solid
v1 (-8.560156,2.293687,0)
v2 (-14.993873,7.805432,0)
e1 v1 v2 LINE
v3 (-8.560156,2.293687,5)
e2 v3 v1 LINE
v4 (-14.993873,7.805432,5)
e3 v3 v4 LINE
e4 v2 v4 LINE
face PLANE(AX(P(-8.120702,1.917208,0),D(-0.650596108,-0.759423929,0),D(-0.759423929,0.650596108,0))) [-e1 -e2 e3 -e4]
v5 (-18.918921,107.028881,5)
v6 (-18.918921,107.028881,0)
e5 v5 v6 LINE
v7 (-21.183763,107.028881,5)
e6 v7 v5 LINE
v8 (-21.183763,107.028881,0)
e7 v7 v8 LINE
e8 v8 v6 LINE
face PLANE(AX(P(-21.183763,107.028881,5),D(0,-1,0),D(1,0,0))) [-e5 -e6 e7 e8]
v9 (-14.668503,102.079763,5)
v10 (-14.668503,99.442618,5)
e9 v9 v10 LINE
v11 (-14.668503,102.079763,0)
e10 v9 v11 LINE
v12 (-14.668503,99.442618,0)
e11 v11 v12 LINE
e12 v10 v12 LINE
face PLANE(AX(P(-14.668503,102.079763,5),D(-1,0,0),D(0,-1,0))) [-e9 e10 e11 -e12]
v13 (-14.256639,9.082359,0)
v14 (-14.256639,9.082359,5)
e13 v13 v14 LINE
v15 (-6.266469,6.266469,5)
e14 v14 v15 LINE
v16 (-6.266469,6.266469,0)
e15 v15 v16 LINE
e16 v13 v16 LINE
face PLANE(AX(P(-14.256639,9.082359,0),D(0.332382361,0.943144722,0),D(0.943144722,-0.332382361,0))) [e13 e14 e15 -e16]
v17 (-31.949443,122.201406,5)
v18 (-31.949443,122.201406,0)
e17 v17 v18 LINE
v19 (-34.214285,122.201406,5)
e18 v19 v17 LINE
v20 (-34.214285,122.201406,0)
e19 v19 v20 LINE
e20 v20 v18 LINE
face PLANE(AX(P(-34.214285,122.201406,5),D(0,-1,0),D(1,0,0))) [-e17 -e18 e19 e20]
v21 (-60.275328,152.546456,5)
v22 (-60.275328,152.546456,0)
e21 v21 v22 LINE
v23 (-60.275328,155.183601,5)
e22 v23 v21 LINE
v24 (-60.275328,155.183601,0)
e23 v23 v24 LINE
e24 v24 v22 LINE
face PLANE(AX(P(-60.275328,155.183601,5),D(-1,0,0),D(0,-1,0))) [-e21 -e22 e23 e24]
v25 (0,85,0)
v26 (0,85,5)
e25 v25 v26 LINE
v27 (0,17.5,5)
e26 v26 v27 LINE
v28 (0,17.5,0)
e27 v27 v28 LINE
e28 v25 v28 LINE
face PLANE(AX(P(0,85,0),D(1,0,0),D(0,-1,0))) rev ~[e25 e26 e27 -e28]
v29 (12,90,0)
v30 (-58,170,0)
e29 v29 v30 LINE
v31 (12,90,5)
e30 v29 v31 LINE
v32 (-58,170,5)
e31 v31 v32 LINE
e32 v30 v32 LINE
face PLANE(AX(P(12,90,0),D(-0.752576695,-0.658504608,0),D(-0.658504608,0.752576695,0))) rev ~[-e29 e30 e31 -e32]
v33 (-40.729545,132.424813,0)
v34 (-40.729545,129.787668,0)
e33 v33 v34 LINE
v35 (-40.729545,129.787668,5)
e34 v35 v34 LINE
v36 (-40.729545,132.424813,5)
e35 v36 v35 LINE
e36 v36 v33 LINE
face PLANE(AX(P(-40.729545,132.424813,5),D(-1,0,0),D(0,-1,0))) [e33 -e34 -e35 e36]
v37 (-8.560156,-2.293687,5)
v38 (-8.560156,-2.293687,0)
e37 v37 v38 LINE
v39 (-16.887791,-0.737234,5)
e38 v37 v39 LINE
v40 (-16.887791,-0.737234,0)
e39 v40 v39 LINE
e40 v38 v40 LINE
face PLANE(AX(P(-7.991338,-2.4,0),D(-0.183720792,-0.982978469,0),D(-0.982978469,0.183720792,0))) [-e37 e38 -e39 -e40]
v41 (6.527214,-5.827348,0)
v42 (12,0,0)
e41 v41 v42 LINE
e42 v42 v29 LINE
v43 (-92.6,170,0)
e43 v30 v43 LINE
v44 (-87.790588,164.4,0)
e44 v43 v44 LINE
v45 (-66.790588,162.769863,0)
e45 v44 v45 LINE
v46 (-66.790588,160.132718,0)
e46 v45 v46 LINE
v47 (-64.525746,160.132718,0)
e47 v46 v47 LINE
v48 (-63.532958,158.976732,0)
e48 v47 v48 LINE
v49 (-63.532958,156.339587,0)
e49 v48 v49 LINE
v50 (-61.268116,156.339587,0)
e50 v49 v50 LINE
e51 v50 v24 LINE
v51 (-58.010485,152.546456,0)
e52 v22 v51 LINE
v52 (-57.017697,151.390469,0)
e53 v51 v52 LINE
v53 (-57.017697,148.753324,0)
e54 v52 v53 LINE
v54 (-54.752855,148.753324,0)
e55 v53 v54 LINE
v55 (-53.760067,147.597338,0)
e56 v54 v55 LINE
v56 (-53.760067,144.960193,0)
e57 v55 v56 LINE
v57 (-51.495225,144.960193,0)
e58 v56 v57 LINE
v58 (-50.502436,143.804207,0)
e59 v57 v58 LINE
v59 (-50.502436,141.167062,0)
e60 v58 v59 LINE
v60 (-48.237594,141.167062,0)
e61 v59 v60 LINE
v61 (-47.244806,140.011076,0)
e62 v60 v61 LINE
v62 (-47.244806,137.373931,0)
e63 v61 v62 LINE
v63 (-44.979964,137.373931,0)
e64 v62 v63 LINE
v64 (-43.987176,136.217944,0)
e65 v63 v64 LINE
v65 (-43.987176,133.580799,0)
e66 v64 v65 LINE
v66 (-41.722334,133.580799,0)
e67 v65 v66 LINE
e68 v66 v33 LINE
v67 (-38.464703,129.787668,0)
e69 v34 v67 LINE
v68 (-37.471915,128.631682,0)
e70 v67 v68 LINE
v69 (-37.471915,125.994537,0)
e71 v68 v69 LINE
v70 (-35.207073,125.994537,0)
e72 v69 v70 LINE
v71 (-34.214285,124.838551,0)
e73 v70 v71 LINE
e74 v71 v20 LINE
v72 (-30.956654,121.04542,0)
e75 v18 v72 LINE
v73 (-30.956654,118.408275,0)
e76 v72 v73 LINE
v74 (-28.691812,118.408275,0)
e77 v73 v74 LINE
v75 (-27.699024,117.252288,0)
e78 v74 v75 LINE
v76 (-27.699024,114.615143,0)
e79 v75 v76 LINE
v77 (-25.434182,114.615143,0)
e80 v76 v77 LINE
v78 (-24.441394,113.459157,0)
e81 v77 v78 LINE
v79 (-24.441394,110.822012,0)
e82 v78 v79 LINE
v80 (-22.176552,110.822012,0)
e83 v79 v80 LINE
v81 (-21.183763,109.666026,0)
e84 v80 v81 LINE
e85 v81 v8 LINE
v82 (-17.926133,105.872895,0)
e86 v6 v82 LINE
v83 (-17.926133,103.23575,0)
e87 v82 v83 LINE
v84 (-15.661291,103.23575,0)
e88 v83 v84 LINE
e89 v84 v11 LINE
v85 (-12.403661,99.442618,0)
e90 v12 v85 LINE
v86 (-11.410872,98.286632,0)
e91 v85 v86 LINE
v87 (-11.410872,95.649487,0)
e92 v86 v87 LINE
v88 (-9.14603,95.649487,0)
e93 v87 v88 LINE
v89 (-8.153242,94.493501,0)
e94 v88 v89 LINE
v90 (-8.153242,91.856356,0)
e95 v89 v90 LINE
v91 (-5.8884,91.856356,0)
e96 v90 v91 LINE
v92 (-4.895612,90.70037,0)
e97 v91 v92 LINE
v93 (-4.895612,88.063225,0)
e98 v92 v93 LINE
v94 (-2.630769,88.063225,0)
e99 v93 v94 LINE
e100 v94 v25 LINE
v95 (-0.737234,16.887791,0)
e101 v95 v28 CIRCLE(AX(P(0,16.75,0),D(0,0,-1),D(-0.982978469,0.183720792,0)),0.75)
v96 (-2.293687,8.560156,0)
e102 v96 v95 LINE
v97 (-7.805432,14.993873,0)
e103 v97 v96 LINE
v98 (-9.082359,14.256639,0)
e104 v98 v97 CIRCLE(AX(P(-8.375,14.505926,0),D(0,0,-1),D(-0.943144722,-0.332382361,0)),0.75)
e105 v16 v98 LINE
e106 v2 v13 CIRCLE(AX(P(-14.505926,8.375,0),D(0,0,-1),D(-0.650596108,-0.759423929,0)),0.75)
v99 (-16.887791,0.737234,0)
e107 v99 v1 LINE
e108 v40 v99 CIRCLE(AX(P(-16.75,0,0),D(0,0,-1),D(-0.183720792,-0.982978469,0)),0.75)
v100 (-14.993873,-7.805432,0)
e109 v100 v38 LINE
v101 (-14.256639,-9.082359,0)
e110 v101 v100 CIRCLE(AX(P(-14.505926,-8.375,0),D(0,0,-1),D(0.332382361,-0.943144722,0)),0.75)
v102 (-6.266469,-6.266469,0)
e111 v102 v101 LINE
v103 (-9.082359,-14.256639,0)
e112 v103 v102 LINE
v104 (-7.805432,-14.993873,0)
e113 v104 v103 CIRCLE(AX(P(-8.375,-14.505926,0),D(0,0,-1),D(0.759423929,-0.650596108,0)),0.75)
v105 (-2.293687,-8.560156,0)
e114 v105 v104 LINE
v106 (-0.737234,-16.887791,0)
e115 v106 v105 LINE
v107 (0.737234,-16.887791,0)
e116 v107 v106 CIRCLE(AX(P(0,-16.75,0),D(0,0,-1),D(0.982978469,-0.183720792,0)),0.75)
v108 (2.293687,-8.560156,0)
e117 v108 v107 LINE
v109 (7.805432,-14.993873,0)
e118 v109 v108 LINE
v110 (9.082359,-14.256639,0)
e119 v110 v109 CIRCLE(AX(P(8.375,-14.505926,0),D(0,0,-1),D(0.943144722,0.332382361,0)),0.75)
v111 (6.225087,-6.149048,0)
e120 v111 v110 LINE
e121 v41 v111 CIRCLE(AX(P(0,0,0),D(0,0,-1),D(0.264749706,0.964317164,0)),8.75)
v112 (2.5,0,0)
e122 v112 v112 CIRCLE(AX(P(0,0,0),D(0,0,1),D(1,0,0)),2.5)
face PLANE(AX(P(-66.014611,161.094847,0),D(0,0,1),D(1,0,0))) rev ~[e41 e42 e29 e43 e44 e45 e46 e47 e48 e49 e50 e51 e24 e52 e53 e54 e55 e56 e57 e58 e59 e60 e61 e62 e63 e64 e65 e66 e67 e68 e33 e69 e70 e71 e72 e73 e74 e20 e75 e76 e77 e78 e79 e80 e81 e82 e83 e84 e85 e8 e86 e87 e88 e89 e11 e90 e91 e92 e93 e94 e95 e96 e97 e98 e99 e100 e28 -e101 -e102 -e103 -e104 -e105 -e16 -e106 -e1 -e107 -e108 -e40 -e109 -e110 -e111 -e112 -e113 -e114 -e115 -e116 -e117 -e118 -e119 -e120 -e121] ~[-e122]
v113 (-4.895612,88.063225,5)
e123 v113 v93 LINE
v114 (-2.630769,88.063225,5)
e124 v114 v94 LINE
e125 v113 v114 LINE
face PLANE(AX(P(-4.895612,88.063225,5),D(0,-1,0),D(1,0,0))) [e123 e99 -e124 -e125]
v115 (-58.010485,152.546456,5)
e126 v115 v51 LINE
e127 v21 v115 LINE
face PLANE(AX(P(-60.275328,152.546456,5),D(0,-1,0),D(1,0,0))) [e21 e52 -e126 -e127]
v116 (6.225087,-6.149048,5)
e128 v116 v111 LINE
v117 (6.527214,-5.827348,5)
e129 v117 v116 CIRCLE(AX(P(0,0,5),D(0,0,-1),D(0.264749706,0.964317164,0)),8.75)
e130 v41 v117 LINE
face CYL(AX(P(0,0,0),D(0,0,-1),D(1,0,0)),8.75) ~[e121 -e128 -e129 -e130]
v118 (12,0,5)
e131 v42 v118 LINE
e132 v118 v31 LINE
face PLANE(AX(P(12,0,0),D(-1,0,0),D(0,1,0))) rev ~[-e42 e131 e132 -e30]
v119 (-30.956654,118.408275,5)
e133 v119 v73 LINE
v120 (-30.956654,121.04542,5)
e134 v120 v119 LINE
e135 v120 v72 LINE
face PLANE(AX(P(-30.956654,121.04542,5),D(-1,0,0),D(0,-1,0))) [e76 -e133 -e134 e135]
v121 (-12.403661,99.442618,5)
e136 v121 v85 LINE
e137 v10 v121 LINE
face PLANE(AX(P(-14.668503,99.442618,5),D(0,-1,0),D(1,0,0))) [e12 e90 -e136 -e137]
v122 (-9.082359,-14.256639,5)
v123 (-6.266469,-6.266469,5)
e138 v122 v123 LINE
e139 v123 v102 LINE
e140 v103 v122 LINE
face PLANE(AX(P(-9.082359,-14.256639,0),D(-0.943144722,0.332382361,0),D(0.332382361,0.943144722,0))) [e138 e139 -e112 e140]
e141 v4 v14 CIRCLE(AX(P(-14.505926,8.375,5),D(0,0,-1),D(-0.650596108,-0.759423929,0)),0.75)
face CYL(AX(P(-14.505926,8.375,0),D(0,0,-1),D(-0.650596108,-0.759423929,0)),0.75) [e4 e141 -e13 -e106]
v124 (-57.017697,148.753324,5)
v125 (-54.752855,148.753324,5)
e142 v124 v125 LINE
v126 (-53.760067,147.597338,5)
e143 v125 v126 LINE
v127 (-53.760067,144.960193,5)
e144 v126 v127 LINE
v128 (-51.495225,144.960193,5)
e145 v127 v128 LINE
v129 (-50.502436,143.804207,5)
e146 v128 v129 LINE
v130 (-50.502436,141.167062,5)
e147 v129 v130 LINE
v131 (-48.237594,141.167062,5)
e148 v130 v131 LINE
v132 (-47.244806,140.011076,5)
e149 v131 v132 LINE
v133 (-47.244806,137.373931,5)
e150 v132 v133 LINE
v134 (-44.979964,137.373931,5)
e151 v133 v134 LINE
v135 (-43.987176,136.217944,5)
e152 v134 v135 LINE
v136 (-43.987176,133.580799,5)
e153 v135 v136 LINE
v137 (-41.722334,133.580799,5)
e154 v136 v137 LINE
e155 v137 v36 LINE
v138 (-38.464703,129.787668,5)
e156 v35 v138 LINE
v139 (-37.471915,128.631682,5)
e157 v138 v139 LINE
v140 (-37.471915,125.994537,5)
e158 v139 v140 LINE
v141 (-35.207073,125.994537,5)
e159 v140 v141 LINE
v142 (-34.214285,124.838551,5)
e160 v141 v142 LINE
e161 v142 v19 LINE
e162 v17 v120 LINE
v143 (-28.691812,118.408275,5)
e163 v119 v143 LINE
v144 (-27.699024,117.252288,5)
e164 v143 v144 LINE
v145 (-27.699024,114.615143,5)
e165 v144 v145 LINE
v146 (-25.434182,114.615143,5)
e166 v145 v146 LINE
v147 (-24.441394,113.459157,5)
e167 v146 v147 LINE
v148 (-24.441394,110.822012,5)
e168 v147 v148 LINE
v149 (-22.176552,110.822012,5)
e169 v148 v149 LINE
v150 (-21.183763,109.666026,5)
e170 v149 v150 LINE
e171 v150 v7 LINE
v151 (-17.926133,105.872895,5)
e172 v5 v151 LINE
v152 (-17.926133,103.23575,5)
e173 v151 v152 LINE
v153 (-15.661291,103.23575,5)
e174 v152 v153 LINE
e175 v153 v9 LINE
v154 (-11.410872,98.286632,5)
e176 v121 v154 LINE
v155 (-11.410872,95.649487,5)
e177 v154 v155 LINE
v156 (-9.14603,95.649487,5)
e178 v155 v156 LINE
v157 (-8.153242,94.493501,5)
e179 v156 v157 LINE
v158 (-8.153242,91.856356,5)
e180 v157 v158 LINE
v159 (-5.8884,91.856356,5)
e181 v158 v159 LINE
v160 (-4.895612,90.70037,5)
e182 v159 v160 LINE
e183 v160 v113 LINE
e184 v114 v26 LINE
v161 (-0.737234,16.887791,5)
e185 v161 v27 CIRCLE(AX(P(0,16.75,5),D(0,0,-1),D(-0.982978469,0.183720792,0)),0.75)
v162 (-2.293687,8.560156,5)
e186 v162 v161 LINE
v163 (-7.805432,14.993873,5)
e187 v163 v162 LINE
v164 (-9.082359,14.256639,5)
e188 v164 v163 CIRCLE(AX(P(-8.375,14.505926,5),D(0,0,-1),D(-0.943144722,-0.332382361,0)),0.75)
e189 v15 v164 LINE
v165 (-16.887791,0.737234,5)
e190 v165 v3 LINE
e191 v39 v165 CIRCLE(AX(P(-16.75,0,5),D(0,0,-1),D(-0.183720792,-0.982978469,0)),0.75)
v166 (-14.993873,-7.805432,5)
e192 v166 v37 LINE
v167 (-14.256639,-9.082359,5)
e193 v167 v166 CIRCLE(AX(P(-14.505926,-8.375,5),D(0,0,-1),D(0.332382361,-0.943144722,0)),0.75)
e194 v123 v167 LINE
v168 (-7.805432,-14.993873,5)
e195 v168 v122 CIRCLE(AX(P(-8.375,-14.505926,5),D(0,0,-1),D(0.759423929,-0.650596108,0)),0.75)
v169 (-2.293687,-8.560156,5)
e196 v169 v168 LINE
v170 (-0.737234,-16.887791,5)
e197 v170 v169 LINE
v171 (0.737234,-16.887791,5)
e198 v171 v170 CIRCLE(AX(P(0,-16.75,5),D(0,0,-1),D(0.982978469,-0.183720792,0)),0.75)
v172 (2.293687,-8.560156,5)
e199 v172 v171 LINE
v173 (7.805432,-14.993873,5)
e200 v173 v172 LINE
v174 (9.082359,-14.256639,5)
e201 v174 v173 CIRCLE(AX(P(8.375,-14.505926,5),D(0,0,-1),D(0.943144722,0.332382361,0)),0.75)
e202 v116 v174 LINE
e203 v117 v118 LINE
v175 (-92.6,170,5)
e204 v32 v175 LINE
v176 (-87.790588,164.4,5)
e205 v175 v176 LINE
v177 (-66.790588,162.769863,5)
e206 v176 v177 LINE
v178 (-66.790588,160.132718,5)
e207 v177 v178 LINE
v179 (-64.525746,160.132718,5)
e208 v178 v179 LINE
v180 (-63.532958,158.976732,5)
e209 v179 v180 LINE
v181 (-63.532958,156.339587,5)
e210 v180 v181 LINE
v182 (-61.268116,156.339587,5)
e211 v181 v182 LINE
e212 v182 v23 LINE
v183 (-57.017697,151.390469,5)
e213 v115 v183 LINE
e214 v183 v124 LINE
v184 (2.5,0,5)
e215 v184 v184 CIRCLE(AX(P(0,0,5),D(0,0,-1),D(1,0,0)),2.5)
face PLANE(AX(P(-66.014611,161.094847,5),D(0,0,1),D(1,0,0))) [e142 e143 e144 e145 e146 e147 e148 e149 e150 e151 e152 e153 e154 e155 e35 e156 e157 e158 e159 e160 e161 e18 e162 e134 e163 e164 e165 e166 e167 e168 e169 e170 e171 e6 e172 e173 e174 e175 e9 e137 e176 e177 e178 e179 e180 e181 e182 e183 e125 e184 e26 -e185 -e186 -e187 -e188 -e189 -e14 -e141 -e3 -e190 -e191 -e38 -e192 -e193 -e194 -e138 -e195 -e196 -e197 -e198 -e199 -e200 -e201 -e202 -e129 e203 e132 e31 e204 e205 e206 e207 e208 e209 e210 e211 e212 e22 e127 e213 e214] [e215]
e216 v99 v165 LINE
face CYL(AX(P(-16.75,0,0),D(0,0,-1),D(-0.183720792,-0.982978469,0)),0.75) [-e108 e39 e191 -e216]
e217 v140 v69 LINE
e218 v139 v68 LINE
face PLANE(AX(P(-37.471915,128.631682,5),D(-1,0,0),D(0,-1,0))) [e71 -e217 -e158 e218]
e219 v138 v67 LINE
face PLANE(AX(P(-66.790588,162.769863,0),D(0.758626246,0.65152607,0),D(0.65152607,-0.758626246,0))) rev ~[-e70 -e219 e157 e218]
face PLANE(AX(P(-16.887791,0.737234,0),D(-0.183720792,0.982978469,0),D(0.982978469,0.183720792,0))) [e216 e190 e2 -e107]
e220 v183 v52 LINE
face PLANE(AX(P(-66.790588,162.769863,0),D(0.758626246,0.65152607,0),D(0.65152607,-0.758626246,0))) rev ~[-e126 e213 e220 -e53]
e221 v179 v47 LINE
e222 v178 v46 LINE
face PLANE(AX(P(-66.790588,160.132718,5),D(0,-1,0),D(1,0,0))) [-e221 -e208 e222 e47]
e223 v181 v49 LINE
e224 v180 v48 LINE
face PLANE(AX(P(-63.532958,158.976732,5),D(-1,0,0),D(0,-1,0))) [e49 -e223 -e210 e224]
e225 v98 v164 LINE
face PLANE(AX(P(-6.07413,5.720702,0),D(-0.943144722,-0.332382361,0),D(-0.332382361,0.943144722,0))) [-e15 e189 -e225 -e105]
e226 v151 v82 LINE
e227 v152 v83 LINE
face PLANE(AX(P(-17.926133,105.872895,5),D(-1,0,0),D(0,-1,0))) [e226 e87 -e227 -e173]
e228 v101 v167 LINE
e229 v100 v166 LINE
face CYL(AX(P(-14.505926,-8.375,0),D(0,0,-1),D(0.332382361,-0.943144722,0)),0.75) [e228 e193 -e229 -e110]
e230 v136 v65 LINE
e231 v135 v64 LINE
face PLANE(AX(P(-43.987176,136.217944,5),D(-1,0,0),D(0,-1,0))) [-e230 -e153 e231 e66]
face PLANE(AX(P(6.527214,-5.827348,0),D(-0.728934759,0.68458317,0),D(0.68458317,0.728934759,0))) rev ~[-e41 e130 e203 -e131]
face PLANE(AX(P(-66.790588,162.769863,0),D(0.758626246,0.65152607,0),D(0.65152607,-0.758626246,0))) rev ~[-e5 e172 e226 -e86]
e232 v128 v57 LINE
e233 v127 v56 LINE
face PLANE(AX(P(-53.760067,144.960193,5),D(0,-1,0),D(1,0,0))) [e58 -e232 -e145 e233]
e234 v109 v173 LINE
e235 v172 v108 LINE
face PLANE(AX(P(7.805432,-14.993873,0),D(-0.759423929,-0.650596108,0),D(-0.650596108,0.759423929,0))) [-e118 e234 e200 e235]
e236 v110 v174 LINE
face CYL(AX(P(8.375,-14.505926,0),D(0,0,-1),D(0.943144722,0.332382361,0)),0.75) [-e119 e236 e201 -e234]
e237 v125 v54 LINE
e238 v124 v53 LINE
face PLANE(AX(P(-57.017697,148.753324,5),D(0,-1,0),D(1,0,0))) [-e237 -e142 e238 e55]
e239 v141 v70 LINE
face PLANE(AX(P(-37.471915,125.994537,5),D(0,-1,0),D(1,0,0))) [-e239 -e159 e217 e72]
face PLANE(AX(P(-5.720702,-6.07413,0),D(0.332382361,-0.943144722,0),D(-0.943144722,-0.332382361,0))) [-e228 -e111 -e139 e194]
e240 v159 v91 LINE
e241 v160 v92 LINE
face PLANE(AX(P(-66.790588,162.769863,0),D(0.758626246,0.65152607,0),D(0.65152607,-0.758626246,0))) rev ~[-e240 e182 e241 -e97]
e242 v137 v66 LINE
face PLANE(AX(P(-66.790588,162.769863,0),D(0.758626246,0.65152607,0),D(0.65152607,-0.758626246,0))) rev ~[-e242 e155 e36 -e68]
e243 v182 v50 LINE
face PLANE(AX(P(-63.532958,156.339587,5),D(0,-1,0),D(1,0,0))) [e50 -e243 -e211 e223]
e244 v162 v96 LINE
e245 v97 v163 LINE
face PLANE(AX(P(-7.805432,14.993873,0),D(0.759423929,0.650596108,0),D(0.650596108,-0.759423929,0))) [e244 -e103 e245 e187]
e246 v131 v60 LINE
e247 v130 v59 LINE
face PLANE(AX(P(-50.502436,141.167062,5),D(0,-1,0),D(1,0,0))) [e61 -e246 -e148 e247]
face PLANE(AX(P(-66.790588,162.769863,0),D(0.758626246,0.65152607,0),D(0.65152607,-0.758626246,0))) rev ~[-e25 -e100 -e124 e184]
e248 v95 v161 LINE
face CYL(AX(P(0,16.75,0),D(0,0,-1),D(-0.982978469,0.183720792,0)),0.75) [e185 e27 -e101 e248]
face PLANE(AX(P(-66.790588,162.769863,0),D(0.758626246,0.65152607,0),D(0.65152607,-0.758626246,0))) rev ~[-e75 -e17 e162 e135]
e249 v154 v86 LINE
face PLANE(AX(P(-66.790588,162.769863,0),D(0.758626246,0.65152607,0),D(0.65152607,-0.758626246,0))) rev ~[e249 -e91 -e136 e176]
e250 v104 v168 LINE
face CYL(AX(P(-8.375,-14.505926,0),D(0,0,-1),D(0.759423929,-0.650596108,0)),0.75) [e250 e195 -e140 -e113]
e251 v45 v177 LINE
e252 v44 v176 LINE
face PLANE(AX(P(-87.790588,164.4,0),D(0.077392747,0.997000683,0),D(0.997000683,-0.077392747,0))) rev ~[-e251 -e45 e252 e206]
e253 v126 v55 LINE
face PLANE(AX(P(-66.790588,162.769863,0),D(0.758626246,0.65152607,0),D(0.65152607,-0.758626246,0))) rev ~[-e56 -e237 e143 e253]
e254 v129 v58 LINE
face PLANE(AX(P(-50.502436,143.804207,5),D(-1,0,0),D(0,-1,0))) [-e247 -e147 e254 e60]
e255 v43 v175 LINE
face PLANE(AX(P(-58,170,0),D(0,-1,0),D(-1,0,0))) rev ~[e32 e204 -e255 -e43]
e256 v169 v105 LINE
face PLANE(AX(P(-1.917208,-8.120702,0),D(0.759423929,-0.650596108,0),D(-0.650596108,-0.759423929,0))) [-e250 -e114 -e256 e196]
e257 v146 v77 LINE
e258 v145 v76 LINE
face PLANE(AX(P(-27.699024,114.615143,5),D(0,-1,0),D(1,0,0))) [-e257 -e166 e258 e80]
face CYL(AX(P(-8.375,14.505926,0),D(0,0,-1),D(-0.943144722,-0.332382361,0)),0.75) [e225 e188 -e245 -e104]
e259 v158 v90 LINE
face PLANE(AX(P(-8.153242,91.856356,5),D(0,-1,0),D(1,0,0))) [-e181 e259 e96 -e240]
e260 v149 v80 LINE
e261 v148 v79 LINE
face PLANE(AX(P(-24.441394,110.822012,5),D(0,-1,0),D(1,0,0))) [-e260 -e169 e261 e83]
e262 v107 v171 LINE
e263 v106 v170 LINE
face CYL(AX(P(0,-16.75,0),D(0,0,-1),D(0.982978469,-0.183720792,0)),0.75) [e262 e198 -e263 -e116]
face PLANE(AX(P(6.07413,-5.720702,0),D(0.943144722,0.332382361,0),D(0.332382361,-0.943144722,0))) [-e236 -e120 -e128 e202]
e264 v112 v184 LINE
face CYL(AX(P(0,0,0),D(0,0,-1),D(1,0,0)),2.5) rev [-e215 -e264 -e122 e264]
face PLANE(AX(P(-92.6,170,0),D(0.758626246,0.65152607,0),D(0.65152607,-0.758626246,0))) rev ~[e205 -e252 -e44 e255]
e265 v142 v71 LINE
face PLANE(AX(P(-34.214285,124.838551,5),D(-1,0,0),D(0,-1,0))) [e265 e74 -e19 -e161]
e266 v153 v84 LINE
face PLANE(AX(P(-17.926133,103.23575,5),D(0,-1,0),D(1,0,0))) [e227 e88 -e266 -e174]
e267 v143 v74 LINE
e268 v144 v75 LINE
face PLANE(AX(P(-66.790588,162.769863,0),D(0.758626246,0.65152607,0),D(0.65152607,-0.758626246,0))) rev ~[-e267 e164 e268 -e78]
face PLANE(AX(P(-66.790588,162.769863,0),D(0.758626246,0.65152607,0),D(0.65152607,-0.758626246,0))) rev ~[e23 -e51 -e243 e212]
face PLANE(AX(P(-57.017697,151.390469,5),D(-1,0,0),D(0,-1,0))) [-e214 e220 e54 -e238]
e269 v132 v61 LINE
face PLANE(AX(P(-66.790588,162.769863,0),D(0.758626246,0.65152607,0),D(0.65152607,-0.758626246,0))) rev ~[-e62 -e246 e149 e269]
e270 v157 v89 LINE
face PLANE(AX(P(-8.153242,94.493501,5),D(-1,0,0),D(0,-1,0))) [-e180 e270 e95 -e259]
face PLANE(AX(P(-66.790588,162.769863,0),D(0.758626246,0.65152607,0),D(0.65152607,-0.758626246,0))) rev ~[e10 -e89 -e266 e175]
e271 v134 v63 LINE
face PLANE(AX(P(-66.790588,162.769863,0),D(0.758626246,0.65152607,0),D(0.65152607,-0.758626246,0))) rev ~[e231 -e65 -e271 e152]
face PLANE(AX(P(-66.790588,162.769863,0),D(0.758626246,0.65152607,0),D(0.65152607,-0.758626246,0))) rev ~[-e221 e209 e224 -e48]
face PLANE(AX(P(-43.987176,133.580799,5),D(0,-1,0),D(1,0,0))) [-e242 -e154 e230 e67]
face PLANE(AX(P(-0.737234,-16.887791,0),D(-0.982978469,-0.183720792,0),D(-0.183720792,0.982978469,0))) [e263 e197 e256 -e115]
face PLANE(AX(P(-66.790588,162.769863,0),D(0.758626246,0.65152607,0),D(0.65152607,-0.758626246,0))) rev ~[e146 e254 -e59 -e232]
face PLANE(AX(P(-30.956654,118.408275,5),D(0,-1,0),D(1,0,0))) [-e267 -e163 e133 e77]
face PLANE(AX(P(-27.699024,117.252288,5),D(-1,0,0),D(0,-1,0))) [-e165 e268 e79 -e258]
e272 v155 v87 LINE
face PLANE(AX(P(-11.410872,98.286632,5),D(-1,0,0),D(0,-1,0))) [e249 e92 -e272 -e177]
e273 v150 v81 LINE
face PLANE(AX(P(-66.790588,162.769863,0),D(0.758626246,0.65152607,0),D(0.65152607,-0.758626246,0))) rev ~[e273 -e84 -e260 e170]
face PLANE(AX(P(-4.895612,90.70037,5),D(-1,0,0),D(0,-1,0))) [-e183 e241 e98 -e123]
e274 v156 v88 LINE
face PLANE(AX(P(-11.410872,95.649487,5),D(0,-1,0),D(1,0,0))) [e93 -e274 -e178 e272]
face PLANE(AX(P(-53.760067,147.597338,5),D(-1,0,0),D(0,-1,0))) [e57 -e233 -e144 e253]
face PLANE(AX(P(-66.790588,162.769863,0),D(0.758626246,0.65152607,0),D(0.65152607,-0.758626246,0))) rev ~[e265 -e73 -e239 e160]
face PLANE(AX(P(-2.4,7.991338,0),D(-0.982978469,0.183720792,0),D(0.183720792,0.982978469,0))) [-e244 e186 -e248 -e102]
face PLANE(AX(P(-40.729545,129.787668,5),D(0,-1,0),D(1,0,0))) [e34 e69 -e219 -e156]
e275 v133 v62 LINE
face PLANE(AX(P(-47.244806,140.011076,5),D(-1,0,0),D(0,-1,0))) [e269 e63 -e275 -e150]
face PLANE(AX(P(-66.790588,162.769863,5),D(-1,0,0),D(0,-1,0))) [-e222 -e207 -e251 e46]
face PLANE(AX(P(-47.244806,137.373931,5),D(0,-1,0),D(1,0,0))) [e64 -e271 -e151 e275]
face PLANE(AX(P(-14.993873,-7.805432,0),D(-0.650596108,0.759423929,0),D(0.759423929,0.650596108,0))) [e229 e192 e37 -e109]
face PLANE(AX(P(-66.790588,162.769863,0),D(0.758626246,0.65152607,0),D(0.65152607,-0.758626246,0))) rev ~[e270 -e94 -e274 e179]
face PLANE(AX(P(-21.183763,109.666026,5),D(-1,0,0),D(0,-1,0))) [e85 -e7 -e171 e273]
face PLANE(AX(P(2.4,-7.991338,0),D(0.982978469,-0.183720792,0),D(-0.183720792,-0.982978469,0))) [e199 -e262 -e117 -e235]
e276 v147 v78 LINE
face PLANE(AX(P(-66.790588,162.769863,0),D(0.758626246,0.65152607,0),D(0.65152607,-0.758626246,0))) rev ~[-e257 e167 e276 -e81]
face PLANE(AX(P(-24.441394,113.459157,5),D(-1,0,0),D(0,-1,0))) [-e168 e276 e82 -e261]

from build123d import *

# Parameters (mm, degrees)
SKETCH2_R           = 8.75
BOSS_EXTRUDE1_DEPTH = 5
SKETCH2_3_R         = 2.5
CUT_EXTRUDE1_DEPTH  = 31
BOSS_EXTRUDE2_DEPTH = 5
CIRPATTERN2_COUNT   = 8
CIRPATTERN2_ANGLE   = 210
BOSS_EXTRUDE3_DEPTH = 5
BOSS_EXTRUDE4_START = -5
BOSS_EXTRUDE4_DEPTH = 5
CUT_EXTRUDE2_START  = -5
SKETCH7_R           = 2.5
CUT_EXTRUDE2_DEPTH  = 5
BOSS_EXTRUDE5_DEPTH = 5
LPATTERN1_COUNT     = 20
LPATTERN1_PITCH     = 5


with BuildPart() as part:
    # Sketch2 → Boss-Extrude1 (new body)
    with BuildSketch(Plane.XY):
        Circle(SKETCH2_R)
    extrude(amount=BOSS_EXTRUDE1_DEPTH)

    # Sketch2<3> → Cut-Extrude1 (cut)
    with BuildSketch(Plane.XY):
        Circle(SKETCH2_3_R)
    extrude(amount=CUT_EXTRUDE1_DEPTH, mode=Mode.SUBTRACT)

    # Sketch2<4> → Boss-Extrude2 (add)
    with BuildSketch(Plane.XY):
        with BuildLine():
            Line((0, 7.99133798), (-2.4, 7.99133798))
            Line((-2.4, 7.99133798), (-0.737233852, 16.887790594))
            ThreePointArc((-0.737233852, 16.887790594), (0, 17.5), (0.737233852, 16.887790594))
            Line((0.737233852, 16.887790594), (2.4, 7.99133798))
            Line((2.4, 7.99133798), (0, 7.99133798))
        make_face()
    boss_extrude2 = extrude(amount=BOSS_EXTRUDE2_DEPTH)

    # CirPattern2: Boss-Extrude2 ×8 about axis
    cirpattern2_axis = Axis((0, 0, 5), (0, 0, 1))
    for i in range(1, CIRPATTERN2_COUNT):
        add(boss_extrude2.rotate(cirpattern2_axis, i * CIRPATTERN2_ANGLE / (CIRPATTERN2_COUNT - 1)))



with BuildPart() as body_2:
    # Sketch5 → Boss-Extrude3 (new body)
    with BuildSketch(Plane.XY):
        Polygon((12, 85), (12, 90), (-58, 170), (-73, 170), (-92.6, 170), (-87.790588235, 164.4), (-66.790588235, 162.769863014), (0, 85), (0, 0), (12, 0), align=None)
    extrude(amount=BOSS_EXTRUDE3_DEPTH)


with BuildPart() as part_1:
    add(part.part)

    add(body_2.part)  # Boss-Extrude4 merges body 2
    # Sketch6 → Boss-Extrude4 (add)
    with BuildSketch(Plane.XY.offset(5).offset(BOSS_EXTRUDE4_START)):
        with BuildLine():
            ThreePointArc((8.75, 0), (8.175439475, -3.118443425), (6.527213853, -5.827347537))
            Line((6.527213853, -5.827347537), (12, 0))
            Line((12, 0), (8.75, 0))
        make_face()
    extrude(amount=BOSS_EXTRUDE4_DEPTH)

    # Sketch7 → Cut-Extrude2 (cut)
    with BuildSketch(Plane.XY.offset(5).offset(CUT_EXTRUDE2_START)):
        Circle(SKETCH7_R)
    extrude(amount=CUT_EXTRUDE2_DEPTH, mode=Mode.SUBTRACT)

    # Sketch8 → Boss-Extrude5 (add)
    with BuildSketch(Plane.XY.offset(5)):
        Polygon((-66.790588235, 162.769863014), (-66.790588235, 160.132718073), (-64.525746109, 160.132718073), align=None)
    boss_extrude5 = extrude(amount=-BOSS_EXTRUDE5_DEPTH)

    # LPattern1: Boss-Extrude5 ×20
    with Locations(*[Vector(0.651526069725242, -0.7586262455704912, 0) * (i * LPATTERN1_PITCH) for i in range(1, LPATTERN1_COUNT)]):
        add(boss_extrude5)


solid = part_1.part
